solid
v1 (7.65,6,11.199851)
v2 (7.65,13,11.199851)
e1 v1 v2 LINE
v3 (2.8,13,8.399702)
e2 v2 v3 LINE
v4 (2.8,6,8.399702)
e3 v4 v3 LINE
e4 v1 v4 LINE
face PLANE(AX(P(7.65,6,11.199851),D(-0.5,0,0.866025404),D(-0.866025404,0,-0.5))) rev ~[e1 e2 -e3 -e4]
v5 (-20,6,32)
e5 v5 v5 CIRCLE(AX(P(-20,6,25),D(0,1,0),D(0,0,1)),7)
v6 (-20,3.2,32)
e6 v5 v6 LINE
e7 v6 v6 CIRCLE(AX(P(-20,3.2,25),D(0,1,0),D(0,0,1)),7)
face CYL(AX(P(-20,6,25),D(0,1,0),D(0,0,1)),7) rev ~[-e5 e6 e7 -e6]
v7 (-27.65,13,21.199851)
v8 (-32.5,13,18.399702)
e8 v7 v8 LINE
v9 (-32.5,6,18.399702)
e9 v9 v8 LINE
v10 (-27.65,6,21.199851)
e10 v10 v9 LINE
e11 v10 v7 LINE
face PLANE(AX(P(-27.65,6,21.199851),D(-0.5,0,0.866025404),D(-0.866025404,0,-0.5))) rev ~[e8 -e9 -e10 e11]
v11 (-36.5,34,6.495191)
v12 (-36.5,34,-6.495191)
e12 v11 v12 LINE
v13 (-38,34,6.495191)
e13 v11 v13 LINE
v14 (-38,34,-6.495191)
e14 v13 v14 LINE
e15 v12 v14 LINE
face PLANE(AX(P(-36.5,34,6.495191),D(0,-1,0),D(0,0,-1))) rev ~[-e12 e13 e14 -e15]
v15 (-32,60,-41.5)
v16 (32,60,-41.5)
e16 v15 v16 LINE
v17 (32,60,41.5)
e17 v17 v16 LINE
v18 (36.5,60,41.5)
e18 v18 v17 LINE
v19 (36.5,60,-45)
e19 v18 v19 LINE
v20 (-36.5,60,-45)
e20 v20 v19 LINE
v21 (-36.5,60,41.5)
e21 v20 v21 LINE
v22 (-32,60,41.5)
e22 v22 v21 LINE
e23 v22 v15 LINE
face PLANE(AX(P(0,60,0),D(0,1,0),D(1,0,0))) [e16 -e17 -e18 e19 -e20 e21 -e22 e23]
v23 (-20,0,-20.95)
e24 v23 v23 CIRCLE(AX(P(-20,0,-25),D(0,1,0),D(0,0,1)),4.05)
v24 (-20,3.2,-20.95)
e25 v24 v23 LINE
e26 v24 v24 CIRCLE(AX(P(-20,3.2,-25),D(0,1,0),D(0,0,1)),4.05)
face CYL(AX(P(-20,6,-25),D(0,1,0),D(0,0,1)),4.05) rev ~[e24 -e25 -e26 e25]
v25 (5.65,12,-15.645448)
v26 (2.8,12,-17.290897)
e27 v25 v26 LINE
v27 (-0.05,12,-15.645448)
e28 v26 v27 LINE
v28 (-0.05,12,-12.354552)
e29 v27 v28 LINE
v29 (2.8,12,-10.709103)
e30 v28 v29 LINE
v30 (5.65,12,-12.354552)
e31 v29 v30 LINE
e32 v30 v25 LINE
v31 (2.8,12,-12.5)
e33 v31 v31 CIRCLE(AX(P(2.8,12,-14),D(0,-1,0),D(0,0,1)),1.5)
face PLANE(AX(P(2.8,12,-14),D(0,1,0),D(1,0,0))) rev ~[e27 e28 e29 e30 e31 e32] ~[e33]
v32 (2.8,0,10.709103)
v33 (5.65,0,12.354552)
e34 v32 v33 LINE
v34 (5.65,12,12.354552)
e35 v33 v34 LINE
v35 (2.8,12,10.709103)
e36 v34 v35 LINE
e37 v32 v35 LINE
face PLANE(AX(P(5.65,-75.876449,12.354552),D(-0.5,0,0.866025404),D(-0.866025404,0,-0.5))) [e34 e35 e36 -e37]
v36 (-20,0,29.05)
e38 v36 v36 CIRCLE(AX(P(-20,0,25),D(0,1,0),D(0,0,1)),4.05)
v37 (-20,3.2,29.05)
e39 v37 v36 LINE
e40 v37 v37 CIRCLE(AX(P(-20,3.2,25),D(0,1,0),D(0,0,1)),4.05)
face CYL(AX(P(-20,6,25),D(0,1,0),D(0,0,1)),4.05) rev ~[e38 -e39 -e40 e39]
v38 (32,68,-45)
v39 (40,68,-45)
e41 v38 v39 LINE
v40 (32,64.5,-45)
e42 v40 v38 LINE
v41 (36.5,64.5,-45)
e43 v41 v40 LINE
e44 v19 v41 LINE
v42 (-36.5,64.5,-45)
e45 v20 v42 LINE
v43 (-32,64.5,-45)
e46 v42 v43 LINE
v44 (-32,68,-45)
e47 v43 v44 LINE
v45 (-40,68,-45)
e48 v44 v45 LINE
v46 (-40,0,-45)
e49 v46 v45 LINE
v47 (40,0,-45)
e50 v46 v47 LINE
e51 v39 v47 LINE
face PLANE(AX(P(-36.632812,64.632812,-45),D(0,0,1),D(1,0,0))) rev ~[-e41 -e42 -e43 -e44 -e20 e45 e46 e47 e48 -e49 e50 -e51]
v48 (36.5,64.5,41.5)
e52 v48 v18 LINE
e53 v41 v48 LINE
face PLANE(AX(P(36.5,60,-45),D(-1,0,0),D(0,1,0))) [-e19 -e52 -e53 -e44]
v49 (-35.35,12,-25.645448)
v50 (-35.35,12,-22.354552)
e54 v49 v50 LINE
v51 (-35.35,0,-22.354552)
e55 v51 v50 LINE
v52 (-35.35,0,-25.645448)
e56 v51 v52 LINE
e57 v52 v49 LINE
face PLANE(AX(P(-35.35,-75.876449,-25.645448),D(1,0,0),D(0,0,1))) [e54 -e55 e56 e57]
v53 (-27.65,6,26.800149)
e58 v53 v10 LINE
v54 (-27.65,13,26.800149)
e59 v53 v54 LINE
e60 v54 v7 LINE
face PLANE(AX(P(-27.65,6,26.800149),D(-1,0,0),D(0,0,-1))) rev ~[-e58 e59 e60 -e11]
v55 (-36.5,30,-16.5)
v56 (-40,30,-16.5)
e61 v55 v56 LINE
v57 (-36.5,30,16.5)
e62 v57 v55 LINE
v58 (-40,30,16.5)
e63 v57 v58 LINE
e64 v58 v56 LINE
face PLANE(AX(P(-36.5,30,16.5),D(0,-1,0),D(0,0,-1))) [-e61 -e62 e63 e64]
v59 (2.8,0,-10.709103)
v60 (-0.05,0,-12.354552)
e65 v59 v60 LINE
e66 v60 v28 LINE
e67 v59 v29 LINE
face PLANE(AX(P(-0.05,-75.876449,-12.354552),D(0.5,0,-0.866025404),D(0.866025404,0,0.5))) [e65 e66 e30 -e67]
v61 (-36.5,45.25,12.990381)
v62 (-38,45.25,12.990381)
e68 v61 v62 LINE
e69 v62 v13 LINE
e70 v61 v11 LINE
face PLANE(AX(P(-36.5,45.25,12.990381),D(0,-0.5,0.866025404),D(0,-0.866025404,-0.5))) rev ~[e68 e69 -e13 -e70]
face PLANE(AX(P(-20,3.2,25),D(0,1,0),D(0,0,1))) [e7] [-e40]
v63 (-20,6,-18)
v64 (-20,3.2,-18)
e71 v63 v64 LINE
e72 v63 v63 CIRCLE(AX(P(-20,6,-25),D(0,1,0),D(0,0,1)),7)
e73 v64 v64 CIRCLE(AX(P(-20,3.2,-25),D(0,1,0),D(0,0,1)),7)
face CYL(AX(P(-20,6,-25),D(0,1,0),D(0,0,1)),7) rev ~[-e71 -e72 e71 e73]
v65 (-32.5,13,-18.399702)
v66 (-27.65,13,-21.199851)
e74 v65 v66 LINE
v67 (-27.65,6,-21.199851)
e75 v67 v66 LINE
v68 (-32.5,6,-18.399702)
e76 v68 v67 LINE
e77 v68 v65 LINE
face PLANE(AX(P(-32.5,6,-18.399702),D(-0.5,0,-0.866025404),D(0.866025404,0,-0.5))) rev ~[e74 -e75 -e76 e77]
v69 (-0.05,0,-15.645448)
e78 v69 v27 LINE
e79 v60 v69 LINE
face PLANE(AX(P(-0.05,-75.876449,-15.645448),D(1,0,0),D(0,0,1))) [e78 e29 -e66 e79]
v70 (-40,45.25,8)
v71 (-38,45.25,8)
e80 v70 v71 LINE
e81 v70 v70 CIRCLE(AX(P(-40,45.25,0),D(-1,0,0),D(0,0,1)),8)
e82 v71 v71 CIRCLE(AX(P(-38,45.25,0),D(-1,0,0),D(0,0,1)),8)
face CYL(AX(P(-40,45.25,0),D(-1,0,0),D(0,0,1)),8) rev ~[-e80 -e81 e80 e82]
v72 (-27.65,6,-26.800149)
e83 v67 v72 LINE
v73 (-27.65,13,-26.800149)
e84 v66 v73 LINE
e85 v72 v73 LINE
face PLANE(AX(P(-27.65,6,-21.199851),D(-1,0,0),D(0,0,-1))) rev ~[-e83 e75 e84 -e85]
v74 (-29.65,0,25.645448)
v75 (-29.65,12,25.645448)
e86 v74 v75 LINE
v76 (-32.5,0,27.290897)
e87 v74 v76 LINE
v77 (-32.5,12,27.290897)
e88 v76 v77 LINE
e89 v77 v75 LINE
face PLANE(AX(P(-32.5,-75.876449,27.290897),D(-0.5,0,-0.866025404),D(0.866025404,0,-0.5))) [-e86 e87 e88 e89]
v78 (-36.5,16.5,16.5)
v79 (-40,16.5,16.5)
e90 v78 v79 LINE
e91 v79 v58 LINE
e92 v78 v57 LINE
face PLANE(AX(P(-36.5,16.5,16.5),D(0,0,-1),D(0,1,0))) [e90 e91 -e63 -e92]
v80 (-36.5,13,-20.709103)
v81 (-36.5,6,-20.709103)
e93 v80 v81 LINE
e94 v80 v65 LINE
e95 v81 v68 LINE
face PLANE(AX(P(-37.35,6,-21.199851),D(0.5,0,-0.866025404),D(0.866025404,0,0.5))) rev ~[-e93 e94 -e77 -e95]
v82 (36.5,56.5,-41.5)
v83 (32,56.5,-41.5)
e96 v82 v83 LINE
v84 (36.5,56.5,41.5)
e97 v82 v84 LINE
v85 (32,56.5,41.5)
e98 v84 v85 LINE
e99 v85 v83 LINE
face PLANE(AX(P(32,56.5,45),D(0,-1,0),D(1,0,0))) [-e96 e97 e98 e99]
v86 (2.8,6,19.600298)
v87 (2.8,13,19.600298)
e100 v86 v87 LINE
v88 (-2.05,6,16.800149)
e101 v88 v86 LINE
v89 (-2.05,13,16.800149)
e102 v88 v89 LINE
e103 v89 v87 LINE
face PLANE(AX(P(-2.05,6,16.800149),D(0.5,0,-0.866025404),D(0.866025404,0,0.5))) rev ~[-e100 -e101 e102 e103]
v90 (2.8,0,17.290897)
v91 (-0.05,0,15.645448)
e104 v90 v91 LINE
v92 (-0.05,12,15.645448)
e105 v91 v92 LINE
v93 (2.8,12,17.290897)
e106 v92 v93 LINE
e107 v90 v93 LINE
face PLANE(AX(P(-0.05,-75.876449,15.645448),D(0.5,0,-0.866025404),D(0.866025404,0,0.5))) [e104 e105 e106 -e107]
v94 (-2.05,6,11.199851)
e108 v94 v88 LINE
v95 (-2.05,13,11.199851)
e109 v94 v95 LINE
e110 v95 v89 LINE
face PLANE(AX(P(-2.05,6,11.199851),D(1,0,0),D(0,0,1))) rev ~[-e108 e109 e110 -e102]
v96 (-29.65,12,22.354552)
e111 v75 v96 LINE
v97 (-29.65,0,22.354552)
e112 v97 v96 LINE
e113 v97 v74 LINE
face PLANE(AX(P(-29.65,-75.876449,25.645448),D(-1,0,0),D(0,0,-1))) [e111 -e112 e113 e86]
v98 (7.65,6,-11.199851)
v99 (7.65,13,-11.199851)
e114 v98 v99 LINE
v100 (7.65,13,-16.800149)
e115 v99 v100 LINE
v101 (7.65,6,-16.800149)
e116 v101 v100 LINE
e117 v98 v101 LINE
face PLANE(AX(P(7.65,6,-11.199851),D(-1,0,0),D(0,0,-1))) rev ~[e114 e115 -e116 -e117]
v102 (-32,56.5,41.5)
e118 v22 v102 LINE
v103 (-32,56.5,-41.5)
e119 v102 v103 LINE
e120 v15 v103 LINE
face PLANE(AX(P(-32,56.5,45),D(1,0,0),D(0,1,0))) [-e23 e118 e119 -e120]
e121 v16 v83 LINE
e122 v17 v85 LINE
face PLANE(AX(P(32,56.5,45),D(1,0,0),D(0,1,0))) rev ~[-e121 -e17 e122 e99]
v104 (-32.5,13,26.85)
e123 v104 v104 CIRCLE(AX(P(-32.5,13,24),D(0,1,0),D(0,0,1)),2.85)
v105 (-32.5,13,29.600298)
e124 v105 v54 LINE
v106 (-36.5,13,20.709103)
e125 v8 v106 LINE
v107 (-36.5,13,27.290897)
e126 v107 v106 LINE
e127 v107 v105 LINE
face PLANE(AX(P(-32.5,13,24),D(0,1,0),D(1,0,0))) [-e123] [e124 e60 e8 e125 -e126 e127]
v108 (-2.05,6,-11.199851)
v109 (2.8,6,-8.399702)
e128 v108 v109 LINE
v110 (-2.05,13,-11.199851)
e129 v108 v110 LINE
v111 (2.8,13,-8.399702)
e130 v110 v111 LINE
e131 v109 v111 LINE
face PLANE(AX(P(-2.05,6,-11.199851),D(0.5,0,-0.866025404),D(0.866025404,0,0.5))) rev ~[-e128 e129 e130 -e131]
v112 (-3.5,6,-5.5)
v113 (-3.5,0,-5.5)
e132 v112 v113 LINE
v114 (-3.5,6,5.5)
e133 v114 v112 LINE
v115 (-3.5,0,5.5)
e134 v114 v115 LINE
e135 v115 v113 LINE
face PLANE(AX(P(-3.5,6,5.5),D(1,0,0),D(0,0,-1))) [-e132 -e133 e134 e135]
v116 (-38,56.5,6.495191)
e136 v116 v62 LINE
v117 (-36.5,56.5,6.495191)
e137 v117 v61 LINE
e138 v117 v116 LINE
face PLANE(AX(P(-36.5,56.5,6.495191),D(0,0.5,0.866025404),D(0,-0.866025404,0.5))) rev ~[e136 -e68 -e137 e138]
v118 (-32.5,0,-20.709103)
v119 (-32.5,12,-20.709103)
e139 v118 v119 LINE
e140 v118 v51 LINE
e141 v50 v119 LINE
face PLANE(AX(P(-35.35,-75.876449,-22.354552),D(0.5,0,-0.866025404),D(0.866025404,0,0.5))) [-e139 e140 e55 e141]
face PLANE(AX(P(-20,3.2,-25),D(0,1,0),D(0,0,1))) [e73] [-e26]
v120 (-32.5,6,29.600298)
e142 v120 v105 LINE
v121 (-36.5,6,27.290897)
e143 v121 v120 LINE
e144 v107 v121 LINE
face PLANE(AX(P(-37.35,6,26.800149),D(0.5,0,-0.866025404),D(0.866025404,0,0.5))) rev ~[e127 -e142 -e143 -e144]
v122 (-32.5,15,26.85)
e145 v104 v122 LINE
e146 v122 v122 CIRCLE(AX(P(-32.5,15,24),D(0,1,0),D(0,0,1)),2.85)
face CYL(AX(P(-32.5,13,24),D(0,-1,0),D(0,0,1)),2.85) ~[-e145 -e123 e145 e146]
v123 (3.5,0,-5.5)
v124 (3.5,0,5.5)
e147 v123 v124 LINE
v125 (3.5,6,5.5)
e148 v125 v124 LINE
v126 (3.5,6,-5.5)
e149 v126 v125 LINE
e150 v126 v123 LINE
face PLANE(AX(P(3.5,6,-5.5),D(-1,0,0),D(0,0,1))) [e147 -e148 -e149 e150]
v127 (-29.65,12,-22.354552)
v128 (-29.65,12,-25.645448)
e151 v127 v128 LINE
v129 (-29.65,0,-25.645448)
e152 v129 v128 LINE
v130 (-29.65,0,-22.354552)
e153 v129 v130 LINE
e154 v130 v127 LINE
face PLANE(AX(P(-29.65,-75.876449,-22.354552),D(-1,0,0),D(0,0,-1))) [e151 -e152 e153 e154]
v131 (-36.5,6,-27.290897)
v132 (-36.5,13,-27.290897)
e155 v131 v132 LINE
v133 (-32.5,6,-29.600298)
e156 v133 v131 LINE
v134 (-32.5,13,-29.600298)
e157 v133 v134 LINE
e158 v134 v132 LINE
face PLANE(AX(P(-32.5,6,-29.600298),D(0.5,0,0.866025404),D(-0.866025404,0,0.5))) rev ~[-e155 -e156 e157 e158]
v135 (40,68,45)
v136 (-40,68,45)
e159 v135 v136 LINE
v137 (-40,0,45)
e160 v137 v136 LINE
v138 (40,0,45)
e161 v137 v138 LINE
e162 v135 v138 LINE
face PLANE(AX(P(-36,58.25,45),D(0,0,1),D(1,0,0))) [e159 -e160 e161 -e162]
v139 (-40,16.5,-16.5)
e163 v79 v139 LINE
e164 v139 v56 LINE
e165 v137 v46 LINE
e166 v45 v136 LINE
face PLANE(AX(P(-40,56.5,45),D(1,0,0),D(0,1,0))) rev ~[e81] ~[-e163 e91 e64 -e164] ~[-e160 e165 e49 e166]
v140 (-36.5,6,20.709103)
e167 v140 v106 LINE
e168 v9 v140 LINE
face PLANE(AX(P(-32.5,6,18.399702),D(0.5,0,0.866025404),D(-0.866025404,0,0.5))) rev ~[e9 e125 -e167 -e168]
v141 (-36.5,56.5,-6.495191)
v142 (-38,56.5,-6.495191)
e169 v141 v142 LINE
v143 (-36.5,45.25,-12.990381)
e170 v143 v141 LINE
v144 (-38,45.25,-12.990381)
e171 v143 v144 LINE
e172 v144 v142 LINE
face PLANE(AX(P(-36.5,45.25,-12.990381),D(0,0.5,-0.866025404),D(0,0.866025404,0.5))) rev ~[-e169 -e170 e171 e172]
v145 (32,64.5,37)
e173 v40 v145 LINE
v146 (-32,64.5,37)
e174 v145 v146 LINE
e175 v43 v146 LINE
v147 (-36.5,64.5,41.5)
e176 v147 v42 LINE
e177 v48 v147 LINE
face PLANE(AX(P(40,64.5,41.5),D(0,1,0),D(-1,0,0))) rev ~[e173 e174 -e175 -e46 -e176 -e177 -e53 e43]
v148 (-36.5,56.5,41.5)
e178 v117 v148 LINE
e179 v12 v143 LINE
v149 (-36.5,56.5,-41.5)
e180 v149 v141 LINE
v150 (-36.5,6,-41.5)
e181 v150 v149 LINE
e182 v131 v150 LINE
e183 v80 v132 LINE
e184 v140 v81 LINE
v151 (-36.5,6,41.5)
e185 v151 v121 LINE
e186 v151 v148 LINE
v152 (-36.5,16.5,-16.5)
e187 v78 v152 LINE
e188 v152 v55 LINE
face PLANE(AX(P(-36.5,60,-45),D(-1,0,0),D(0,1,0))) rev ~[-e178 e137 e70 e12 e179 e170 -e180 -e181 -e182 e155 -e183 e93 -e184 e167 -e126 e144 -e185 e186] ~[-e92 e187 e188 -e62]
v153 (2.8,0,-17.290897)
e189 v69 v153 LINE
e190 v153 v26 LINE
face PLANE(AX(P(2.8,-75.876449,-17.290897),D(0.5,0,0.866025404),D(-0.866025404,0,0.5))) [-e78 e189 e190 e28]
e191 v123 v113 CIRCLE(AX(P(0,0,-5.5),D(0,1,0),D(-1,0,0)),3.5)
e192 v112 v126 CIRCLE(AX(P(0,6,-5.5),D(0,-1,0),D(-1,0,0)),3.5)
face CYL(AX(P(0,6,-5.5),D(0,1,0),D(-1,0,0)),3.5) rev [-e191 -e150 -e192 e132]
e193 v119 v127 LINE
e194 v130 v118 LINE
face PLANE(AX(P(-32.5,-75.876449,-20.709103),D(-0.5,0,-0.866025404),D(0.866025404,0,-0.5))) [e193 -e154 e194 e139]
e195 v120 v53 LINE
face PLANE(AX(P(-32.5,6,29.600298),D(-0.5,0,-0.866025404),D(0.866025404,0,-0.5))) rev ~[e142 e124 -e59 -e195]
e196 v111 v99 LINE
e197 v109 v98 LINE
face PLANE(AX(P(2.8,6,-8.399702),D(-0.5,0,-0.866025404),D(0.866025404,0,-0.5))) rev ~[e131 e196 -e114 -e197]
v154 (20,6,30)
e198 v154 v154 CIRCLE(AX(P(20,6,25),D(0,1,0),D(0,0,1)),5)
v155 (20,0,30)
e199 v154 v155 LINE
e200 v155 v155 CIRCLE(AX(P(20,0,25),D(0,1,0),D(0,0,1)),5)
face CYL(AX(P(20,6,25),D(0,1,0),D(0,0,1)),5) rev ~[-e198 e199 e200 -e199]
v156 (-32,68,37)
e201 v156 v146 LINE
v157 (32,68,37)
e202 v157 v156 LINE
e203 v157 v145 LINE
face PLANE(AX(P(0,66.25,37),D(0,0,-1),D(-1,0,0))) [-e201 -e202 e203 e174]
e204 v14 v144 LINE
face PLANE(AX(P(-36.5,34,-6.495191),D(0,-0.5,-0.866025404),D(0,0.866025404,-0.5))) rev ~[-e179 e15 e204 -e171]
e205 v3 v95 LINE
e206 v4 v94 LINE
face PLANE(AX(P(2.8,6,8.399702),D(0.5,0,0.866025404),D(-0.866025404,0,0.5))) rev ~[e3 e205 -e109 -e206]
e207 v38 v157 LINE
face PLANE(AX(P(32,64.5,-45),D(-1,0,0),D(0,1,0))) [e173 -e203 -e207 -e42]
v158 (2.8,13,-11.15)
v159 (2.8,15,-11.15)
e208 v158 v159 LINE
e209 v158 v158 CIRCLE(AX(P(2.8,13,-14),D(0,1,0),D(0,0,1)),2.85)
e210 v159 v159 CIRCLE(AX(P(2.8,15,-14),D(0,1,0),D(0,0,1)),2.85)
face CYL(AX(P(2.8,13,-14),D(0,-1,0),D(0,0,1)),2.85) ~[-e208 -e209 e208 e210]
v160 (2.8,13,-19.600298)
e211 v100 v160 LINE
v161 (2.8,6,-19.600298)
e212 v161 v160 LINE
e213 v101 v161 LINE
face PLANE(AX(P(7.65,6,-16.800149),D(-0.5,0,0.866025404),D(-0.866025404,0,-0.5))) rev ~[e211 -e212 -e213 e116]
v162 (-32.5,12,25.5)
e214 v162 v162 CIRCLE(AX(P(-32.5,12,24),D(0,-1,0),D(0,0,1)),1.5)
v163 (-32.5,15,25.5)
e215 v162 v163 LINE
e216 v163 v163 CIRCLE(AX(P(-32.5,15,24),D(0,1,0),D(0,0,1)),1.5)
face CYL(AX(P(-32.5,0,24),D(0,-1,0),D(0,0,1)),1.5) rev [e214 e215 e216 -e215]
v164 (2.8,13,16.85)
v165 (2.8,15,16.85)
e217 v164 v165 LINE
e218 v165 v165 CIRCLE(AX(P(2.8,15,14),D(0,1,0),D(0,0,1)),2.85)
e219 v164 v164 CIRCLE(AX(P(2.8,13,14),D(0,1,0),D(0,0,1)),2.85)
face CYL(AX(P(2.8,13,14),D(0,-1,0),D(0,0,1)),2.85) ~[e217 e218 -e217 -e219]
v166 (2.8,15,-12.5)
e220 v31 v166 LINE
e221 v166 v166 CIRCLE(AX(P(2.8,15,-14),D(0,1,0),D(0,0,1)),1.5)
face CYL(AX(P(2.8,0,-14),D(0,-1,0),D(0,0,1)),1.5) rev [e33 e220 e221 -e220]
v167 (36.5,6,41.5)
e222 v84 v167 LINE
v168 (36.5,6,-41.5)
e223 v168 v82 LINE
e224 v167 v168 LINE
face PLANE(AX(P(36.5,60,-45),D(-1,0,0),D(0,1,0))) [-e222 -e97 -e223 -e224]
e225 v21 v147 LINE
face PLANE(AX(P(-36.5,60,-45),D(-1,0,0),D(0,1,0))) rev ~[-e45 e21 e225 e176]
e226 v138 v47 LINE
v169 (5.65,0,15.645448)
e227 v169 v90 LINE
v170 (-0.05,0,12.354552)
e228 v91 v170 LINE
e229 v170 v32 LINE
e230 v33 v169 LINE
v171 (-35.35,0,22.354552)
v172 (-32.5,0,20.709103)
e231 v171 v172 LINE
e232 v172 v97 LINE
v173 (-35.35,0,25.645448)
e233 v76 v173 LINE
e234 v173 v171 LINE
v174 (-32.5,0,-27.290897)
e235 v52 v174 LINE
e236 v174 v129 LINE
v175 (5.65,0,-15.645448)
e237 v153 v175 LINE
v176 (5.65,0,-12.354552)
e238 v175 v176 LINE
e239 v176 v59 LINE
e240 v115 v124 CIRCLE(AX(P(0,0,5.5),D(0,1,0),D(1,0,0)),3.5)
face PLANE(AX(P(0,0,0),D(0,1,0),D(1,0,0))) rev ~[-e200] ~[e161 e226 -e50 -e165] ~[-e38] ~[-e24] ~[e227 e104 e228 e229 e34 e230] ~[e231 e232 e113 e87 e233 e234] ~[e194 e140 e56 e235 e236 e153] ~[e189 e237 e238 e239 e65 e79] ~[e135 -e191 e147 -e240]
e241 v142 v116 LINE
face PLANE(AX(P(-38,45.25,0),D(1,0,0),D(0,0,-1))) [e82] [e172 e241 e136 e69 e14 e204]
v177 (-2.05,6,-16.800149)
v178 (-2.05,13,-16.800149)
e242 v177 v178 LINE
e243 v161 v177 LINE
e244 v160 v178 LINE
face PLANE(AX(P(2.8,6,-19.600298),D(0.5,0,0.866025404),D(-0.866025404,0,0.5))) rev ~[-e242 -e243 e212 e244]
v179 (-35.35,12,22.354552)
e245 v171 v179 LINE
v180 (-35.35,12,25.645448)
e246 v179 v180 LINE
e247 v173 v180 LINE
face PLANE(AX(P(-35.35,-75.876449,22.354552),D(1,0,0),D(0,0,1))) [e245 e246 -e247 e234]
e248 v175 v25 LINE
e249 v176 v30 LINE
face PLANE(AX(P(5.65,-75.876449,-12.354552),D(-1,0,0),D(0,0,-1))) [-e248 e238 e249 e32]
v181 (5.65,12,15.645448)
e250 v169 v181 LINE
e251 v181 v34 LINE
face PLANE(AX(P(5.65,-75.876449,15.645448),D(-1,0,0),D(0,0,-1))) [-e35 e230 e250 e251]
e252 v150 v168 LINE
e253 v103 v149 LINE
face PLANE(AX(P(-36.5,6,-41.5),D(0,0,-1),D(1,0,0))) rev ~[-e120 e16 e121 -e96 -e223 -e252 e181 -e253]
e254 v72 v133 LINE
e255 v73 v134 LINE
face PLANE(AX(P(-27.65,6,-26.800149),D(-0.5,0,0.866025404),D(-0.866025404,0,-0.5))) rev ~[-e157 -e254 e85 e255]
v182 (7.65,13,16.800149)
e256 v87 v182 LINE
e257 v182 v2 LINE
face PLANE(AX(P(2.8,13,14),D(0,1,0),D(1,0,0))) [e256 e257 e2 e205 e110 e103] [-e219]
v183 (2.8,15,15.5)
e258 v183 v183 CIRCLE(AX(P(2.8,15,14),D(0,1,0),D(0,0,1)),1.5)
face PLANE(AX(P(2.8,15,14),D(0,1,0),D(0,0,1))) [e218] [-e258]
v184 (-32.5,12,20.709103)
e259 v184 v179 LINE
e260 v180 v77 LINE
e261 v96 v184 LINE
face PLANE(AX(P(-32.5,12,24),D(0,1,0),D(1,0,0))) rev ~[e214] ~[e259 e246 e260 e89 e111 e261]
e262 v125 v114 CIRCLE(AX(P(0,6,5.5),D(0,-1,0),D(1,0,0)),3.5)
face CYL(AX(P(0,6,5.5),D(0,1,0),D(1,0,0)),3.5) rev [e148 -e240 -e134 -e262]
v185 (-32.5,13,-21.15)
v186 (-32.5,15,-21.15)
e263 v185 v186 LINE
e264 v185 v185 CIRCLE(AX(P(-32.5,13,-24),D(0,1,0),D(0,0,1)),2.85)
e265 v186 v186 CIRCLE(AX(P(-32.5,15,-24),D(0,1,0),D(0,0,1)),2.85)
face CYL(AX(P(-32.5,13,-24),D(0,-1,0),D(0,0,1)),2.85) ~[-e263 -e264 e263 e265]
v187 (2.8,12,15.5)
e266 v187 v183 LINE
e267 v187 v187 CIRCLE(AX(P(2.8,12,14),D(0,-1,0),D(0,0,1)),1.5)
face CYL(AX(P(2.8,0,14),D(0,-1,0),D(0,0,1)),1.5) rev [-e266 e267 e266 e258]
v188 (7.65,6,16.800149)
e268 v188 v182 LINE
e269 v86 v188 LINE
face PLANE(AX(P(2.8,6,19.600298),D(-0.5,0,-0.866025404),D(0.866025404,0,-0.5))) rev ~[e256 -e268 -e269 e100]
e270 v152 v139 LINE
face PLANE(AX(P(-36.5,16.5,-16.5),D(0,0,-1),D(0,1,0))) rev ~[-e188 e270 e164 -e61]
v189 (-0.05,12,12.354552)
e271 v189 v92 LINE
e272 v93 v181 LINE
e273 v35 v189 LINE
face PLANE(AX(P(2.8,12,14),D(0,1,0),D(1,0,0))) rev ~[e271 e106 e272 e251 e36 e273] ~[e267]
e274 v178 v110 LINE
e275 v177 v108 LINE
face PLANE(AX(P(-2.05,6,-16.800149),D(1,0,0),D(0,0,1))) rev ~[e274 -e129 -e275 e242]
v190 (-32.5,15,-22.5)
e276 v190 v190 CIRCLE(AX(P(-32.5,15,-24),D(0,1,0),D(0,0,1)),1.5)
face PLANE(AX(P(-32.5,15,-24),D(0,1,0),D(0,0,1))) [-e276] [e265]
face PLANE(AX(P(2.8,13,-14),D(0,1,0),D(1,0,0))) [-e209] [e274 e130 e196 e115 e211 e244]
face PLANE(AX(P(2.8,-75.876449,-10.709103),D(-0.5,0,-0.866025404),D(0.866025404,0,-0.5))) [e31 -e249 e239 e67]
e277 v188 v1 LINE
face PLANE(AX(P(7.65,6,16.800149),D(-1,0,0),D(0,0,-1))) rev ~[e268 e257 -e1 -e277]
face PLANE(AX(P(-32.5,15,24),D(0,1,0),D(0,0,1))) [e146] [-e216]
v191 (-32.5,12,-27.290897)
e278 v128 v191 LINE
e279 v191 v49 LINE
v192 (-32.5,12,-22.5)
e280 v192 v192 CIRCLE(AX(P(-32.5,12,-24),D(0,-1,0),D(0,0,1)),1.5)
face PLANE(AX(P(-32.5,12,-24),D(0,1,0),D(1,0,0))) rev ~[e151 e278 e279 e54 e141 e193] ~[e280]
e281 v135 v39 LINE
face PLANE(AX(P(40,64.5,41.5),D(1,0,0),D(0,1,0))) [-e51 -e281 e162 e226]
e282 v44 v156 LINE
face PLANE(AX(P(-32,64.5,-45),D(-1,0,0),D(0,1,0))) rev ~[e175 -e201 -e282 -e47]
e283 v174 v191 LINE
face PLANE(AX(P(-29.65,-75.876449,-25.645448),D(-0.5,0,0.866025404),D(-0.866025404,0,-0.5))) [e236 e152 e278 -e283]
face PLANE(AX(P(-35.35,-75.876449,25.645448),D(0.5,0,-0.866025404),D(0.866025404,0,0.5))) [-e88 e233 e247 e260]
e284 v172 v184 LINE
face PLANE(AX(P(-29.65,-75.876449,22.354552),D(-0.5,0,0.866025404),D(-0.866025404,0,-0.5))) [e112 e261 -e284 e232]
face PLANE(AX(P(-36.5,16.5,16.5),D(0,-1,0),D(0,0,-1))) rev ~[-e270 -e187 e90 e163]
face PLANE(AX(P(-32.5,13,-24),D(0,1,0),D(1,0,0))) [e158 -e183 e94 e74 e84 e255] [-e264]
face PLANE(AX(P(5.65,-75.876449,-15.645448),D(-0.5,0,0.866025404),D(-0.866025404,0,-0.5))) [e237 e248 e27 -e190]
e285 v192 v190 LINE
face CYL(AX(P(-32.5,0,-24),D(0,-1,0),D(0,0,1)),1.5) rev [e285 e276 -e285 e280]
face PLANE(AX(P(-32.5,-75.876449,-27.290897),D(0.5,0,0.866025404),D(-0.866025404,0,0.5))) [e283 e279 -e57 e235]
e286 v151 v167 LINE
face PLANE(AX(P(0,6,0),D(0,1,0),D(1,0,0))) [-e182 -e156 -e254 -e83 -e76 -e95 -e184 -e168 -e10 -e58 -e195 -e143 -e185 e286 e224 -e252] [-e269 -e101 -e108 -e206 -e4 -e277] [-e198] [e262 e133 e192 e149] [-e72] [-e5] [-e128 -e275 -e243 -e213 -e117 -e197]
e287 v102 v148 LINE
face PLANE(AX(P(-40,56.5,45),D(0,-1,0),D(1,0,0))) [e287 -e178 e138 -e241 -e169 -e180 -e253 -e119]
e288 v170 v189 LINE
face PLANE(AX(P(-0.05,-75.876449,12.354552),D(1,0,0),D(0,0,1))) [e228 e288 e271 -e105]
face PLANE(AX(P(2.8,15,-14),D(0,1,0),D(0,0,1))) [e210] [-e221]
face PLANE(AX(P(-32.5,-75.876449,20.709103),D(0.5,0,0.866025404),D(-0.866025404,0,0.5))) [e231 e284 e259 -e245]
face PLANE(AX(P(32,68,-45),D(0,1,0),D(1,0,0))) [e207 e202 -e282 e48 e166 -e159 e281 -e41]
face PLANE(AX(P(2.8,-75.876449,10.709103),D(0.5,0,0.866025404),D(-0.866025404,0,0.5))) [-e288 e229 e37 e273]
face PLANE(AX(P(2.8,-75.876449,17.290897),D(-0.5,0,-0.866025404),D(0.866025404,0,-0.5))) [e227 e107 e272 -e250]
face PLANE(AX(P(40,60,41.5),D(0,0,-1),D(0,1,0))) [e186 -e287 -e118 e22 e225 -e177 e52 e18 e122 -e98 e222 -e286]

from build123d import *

# Parameters (mm, degrees)
SKETCH1_W               = 80
SKETCH1_H               = 90
BOSS_EXTRUDE1_DEPTH     = 6
SKETCH4_W               = 80
SKETCH4_H               = 90
SKETCH4_W_2             = 73
SKETCH4_H_2             = 83
BOSS_EXTRUDE2_DEPTH     = 54
SKETCH6_R               = 4.05
SKETCH6_R_2             = 5
CUT_EXTRUDE1_DEPTH      = 40
SKETCH7_R               = 7
CUT_EXTRUDE2_DEPTH      = 2.8
BOSS_EXTRUDE3_DEPTH     = 7
SKETCH11_R              = 2.85
BOSS_EXTRUDE4_DEPTH     = 2
CUT_EXTRUDE3_DEPTH      = 9
CUT_EXTRUDE3_DEPTH_BACK = 6
SKETCH5_R               = 1.5
CUT_EXTRUDE4_DEPTH      = 6
CUT_EXTRUDE4_DEPTH_BACK = 81.876448982
SKETCH12_W              = 33
SKETCH12_H              = 13.5
CUT_EXTRUDE6_DEPTH      = 3.5
SKETCH17_R              = 8
CUT_EXTRUDE8_DEPTH      = 2
CUT_EXTRUDE9_DEPTH      = 1.5
CUT_EXTRUDE10_DEPTH     = 10
BOSS_EXTRUDE5_DEPTH     = 90
BOSS_EXTRUDE5_2_DEPTH   = 90
SKETCH21_W              = 3.5
SKETCH21_H              = 8
BOSS_EXTRUDE6_DEPTH     = 80
SKETCH22_W              = 80
SKETCH22_H              = 3.5
BOSS_EXTRUDE7_DEPTH     = 4.5
SKETCH24_W              = 8
SKETCH24_H              = 3.5
BOSS_EXTRUDE8_DEPTH     = 90


with BuildPart() as part:
    # Sketch1 → Boss-Extrude1 (new body)
    with BuildSketch(Plane(origin=(0, 0, 0), x_dir=(1, 0, 0), z_dir=(0, 1, 0))):
        Rectangle(SKETCH1_W, SKETCH1_H)
    extrude(amount=BOSS_EXTRUDE1_DEPTH)

    # Sketch4 → Boss-Extrude2 (add)
    with BuildSketch(Plane(origin=(0, 6, 0), x_dir=(1, 0, 0), z_dir=(0, 1, 0))):
        Rectangle(SKETCH4_W, SKETCH4_H)
        Rectangle(SKETCH4_W_2, SKETCH4_H_2, mode=Mode.SUBTRACT)
    extrude(amount=BOSS_EXTRUDE2_DEPTH)

    # Sketch6 → Cut-Extrude1 (cut)
    with BuildSketch(Plane(origin=(0, 6, 0), x_dir=(1, 0, 0), z_dir=(0, 1, 0))):
        with Locations(Location((-20, 25, 0), (0, 0, 270))):
            Circle(SKETCH6_R)
        with Locations(Location((-20, -25, 0), (0, 0, 270))):
            Circle(SKETCH6_R)
        with Locations(Location((20, -25, 0), (0, 0, 270))):
            Circle(SKETCH6_R_2)
    extrude(amount=-CUT_EXTRUDE1_DEPTH, mode=Mode.SUBTRACT)

    # Sketch7 → Cut-Extrude2 (cut)
    with BuildSketch(Plane(origin=(0, 6, 0), x_dir=(1, 0, 0), z_dir=(0, 1, 0))):
        with Locations(Location((-20, 25, 0), (0, 0, 270))):
            Circle(SKETCH7_R)
        with Locations(Location((-20, -25, 0), (0, 0, 270))):
            Circle(SKETCH7_R)
    extrude(amount=-CUT_EXTRUDE2_DEPTH, mode=Mode.SUBTRACT)

    # Sketch10 → Boss-Extrude3 (add)
    with BuildSketch(Plane(origin=(0, 6, 0), x_dir=(1, 0, 0), z_dir=(0, 1, 0))):
        Polygon((-32.5, 29.600297611), (-37.35, 26.800148806), (-37.35, 21.199851194), (-32.5, 18.399702389), (-27.65, 21.199851194), (-27.65, 26.800148806), align=None)
        Polygon((2.8, 19.600297611), (-2.05, 16.800148806), (-2.05, 11.199851194), (2.8, 8.399702389), (7.65, 11.199851194), (7.65, 16.800148806), align=None)
        Polygon((2.8, -8.399702389), (-2.05, -11.199851194), (-2.05, -16.800148806), (2.8, -19.600297611), (7.65, -16.800148806), (7.65, -11.199851194), align=None)
        Polygon((-27.65, -21.199851194), (-32.5, -18.399702389), (-37.35, -21.199851194), (-37.35, -26.800148806), (-32.5, -29.600297611), (-27.65, -26.800148806), align=None)
    extrude(amount=BOSS_EXTRUDE3_DEPTH)

    # Sketch11 → Boss-Extrude4 (add)
    with BuildSketch(Plane(origin=(0, 13, 0), x_dir=(1, 0, 0), z_dir=(0, 1, 0))):
        with Locations(Location((-32.5, 24, 0), (0, 0, 270))):
            Circle(SKETCH11_R)
        with Locations(Location((2.8, 14, 0), (0, 0, 270))):
            Circle(SKETCH11_R)
        with Locations(Location((2.8, -14, 0), (0, 0, 270))):
            Circle(SKETCH11_R)
        with Locations(Location((-32.5, -24, 0), (0, 0, 270))):
            Circle(SKETCH11_R)
    extrude(amount=BOSS_EXTRUDE4_DEPTH)

    # Sketch5 → Cut-Extrude3 (cut, two sides: drawn at the far end of the back side and taken through both)
    with BuildSketch(Plane(origin=(0, 6, 0), x_dir=(1, 0, 0), z_dir=(0, 1, 0)).offset(-CUT_EXTRUDE3_DEPTH_BACK)):
        with Locations(Location((-32.5, 24, 0), (0, 0, 270))):
            Circle(SKETCH5_R)
        with Locations(Location((-32.5, -24, 0), (0, 0, 270))):
            Circle(SKETCH5_R)
        with Locations(Location((2.8, 14, 0), (0, 0, 270))):
            Circle(SKETCH5_R)
        with Locations(Location((2.8, -14, 0), (0, 0, 270))):
            Circle(SKETCH5_R)
    extrude(amount=CUT_EXTRUDE3_DEPTH + CUT_EXTRUDE3_DEPTH_BACK, mode=Mode.SUBTRACT)

    # Sketch8 → Cut-Extrude4 (cut, two sides: drawn at the far end of the back side and taken through both)
    with BuildSketch(Plane(origin=(0, 6, 0), x_dir=(1, 0, 0), z_dir=(0, 1, 0)).offset(-CUT_EXTRUDE4_DEPTH_BACK)):
        Polygon((-29.65, 25.645448267), (-32.5, 27.290896534), (-35.35, 25.645448267), (-35.35, 22.354551733), (-32.5, 20.709103466), (-29.65, 22.354551733), align=None)
        Polygon((-29.65, -22.354551733), (-32.5, -20.709103466), (-35.35, -22.354551733), (-35.35, -25.645448267), (-32.5, -27.290896534), (-29.65, -25.645448267), align=None)
        Polygon((5.65, -12.354551733), (2.8, -10.709103466), (-0.05, -12.354551733), (-0.05, -15.645448267), (2.8, -17.290896534), (5.65, -15.645448267), align=None)
        Polygon((5.65, 15.645448267), (2.8, 17.290896534), (-0.05, 15.645448267), (-0.05, 12.354551733), (2.8, 10.709103466), (5.65, 12.354551733), align=None)
    extrude(amount=CUT_EXTRUDE4_DEPTH + CUT_EXTRUDE4_DEPTH_BACK, mode=Mode.SUBTRACT)

    # Sketch12 → Cut-Extrude6 (cut)
    with BuildSketch(Plane(origin=(-36.5, 0, 0), x_dir=(0, 0, -1), z_dir=(1, 0, 0))):
        with Locations((0, 23.25)):
            Rectangle(SKETCH12_W, SKETCH12_H)
    extrude(amount=-CUT_EXTRUDE6_DEPTH, mode=Mode.SUBTRACT)

    # Sketch17 → Cut-Extrude8 (cut)
    with BuildSketch(Plane.ZY.offset(40)):
        with Locations((0, 45.25)):
            Circle(SKETCH17_R)
    extrude(amount=-CUT_EXTRUDE8_DEPTH, mode=Mode.SUBTRACT)

    # Sketch15 → Cut-Extrude9 (cut)
    with BuildSketch(Plane(origin=(-36.5, 0, 0), x_dir=(0, 0, -1), z_dir=(1, 0, 0))):
        Polygon((-6.495190528, 56.5), (-12.990381057, 45.25), (-6.495190528, 34), (6.495190528, 34), (12.990381057, 45.25), (6.495190528, 56.5), align=None)
    extrude(amount=-CUT_EXTRUDE9_DEPTH, mode=Mode.SUBTRACT)

    # Sketch19 → Cut-Extrude10 (cut)
    with BuildSketch(Plane(origin=(0, 6, 0), x_dir=(1, 0, 0), z_dir=(0, 1, 0))):
        with BuildLine():
            Line((-3.5, -5.5), (-3.5, 5.5))
            ThreePointArc((-3.5, 5.5), (0, 9), (3.5, 5.5))
            Line((3.5, 5.5), (3.5, -5.5))
            ThreePointArc((3.5, -5.5), (0, -9), (-3.5, -5.5))
        make_face()
    extrude(amount=-CUT_EXTRUDE10_DEPTH, mode=Mode.SUBTRACT)



with BuildPart() as body_2:
    # Sketch20 → Boss-Extrude5 (new body)
    with BuildSketch(Plane(origin=(0, 0, -45), x_dir=(-1, 0, 0), z_dir=(0, 0, -1))):
        Polygon((-40, 60), (-36.5, 60), (-36.5, 64.5), (-32, 64.5), (-32, 68), (-40, 68), align=None)
    extrude(amount=-BOSS_EXTRUDE5_DEPTH)


with BuildPart() as body_3:
    # Sketch20 → Boss-Extrude5 2 (new body)
    with BuildSketch(Plane(origin=(0, 0, -45), x_dir=(-1, 0, 0), z_dir=(0, 0, -1))):
        Polygon((40, 60), (36.5, 60), (36.5, 64.5), (32, 64.5), (32, 68), (40, 68), align=None)
    extrude(amount=-BOSS_EXTRUDE5_2_DEPTH)


with BuildPart() as part_1:
    add(part.part)

    add(body_2.part)  # Boss-Extrude6 merges body 2
    # Sketch21 → Boss-Extrude6 (add)
    with BuildSketch(Plane(origin=(40, 0, 0), x_dir=(0, 0, -1), z_dir=(1, 0, 0))):
        with Locations((-43.25, 64)):
            Rectangle(SKETCH21_W, SKETCH21_H)
    extrude(amount=-BOSS_EXTRUDE6_DEPTH)


    add(body_3.part)  # Boss-Extrude7 merges body 3
    # Sketch22 → Boss-Extrude7 (add)
    with BuildSketch(Plane(origin=(0, 0, 41.5), x_dir=(-1, 0, 0), z_dir=(0, 0, -1))):
        with Locations((0, 66.25)):
            Rectangle(SKETCH22_W, SKETCH22_H)
    extrude(amount=BOSS_EXTRUDE7_DEPTH)

    # Sketch24 → Boss-Extrude8 (add)
    with BuildSketch(Plane.XY.offset(45)):
        with Locations((-36, 58.25)):
            Rectangle(SKETCH24_W, SKETCH24_H)
        with Locations((36, 58.25)):
            Rectangle(SKETCH24_W, SKETCH24_H)
    extrude(amount=-BOSS_EXTRUDE8_DEPTH)


solid = part_1.part
